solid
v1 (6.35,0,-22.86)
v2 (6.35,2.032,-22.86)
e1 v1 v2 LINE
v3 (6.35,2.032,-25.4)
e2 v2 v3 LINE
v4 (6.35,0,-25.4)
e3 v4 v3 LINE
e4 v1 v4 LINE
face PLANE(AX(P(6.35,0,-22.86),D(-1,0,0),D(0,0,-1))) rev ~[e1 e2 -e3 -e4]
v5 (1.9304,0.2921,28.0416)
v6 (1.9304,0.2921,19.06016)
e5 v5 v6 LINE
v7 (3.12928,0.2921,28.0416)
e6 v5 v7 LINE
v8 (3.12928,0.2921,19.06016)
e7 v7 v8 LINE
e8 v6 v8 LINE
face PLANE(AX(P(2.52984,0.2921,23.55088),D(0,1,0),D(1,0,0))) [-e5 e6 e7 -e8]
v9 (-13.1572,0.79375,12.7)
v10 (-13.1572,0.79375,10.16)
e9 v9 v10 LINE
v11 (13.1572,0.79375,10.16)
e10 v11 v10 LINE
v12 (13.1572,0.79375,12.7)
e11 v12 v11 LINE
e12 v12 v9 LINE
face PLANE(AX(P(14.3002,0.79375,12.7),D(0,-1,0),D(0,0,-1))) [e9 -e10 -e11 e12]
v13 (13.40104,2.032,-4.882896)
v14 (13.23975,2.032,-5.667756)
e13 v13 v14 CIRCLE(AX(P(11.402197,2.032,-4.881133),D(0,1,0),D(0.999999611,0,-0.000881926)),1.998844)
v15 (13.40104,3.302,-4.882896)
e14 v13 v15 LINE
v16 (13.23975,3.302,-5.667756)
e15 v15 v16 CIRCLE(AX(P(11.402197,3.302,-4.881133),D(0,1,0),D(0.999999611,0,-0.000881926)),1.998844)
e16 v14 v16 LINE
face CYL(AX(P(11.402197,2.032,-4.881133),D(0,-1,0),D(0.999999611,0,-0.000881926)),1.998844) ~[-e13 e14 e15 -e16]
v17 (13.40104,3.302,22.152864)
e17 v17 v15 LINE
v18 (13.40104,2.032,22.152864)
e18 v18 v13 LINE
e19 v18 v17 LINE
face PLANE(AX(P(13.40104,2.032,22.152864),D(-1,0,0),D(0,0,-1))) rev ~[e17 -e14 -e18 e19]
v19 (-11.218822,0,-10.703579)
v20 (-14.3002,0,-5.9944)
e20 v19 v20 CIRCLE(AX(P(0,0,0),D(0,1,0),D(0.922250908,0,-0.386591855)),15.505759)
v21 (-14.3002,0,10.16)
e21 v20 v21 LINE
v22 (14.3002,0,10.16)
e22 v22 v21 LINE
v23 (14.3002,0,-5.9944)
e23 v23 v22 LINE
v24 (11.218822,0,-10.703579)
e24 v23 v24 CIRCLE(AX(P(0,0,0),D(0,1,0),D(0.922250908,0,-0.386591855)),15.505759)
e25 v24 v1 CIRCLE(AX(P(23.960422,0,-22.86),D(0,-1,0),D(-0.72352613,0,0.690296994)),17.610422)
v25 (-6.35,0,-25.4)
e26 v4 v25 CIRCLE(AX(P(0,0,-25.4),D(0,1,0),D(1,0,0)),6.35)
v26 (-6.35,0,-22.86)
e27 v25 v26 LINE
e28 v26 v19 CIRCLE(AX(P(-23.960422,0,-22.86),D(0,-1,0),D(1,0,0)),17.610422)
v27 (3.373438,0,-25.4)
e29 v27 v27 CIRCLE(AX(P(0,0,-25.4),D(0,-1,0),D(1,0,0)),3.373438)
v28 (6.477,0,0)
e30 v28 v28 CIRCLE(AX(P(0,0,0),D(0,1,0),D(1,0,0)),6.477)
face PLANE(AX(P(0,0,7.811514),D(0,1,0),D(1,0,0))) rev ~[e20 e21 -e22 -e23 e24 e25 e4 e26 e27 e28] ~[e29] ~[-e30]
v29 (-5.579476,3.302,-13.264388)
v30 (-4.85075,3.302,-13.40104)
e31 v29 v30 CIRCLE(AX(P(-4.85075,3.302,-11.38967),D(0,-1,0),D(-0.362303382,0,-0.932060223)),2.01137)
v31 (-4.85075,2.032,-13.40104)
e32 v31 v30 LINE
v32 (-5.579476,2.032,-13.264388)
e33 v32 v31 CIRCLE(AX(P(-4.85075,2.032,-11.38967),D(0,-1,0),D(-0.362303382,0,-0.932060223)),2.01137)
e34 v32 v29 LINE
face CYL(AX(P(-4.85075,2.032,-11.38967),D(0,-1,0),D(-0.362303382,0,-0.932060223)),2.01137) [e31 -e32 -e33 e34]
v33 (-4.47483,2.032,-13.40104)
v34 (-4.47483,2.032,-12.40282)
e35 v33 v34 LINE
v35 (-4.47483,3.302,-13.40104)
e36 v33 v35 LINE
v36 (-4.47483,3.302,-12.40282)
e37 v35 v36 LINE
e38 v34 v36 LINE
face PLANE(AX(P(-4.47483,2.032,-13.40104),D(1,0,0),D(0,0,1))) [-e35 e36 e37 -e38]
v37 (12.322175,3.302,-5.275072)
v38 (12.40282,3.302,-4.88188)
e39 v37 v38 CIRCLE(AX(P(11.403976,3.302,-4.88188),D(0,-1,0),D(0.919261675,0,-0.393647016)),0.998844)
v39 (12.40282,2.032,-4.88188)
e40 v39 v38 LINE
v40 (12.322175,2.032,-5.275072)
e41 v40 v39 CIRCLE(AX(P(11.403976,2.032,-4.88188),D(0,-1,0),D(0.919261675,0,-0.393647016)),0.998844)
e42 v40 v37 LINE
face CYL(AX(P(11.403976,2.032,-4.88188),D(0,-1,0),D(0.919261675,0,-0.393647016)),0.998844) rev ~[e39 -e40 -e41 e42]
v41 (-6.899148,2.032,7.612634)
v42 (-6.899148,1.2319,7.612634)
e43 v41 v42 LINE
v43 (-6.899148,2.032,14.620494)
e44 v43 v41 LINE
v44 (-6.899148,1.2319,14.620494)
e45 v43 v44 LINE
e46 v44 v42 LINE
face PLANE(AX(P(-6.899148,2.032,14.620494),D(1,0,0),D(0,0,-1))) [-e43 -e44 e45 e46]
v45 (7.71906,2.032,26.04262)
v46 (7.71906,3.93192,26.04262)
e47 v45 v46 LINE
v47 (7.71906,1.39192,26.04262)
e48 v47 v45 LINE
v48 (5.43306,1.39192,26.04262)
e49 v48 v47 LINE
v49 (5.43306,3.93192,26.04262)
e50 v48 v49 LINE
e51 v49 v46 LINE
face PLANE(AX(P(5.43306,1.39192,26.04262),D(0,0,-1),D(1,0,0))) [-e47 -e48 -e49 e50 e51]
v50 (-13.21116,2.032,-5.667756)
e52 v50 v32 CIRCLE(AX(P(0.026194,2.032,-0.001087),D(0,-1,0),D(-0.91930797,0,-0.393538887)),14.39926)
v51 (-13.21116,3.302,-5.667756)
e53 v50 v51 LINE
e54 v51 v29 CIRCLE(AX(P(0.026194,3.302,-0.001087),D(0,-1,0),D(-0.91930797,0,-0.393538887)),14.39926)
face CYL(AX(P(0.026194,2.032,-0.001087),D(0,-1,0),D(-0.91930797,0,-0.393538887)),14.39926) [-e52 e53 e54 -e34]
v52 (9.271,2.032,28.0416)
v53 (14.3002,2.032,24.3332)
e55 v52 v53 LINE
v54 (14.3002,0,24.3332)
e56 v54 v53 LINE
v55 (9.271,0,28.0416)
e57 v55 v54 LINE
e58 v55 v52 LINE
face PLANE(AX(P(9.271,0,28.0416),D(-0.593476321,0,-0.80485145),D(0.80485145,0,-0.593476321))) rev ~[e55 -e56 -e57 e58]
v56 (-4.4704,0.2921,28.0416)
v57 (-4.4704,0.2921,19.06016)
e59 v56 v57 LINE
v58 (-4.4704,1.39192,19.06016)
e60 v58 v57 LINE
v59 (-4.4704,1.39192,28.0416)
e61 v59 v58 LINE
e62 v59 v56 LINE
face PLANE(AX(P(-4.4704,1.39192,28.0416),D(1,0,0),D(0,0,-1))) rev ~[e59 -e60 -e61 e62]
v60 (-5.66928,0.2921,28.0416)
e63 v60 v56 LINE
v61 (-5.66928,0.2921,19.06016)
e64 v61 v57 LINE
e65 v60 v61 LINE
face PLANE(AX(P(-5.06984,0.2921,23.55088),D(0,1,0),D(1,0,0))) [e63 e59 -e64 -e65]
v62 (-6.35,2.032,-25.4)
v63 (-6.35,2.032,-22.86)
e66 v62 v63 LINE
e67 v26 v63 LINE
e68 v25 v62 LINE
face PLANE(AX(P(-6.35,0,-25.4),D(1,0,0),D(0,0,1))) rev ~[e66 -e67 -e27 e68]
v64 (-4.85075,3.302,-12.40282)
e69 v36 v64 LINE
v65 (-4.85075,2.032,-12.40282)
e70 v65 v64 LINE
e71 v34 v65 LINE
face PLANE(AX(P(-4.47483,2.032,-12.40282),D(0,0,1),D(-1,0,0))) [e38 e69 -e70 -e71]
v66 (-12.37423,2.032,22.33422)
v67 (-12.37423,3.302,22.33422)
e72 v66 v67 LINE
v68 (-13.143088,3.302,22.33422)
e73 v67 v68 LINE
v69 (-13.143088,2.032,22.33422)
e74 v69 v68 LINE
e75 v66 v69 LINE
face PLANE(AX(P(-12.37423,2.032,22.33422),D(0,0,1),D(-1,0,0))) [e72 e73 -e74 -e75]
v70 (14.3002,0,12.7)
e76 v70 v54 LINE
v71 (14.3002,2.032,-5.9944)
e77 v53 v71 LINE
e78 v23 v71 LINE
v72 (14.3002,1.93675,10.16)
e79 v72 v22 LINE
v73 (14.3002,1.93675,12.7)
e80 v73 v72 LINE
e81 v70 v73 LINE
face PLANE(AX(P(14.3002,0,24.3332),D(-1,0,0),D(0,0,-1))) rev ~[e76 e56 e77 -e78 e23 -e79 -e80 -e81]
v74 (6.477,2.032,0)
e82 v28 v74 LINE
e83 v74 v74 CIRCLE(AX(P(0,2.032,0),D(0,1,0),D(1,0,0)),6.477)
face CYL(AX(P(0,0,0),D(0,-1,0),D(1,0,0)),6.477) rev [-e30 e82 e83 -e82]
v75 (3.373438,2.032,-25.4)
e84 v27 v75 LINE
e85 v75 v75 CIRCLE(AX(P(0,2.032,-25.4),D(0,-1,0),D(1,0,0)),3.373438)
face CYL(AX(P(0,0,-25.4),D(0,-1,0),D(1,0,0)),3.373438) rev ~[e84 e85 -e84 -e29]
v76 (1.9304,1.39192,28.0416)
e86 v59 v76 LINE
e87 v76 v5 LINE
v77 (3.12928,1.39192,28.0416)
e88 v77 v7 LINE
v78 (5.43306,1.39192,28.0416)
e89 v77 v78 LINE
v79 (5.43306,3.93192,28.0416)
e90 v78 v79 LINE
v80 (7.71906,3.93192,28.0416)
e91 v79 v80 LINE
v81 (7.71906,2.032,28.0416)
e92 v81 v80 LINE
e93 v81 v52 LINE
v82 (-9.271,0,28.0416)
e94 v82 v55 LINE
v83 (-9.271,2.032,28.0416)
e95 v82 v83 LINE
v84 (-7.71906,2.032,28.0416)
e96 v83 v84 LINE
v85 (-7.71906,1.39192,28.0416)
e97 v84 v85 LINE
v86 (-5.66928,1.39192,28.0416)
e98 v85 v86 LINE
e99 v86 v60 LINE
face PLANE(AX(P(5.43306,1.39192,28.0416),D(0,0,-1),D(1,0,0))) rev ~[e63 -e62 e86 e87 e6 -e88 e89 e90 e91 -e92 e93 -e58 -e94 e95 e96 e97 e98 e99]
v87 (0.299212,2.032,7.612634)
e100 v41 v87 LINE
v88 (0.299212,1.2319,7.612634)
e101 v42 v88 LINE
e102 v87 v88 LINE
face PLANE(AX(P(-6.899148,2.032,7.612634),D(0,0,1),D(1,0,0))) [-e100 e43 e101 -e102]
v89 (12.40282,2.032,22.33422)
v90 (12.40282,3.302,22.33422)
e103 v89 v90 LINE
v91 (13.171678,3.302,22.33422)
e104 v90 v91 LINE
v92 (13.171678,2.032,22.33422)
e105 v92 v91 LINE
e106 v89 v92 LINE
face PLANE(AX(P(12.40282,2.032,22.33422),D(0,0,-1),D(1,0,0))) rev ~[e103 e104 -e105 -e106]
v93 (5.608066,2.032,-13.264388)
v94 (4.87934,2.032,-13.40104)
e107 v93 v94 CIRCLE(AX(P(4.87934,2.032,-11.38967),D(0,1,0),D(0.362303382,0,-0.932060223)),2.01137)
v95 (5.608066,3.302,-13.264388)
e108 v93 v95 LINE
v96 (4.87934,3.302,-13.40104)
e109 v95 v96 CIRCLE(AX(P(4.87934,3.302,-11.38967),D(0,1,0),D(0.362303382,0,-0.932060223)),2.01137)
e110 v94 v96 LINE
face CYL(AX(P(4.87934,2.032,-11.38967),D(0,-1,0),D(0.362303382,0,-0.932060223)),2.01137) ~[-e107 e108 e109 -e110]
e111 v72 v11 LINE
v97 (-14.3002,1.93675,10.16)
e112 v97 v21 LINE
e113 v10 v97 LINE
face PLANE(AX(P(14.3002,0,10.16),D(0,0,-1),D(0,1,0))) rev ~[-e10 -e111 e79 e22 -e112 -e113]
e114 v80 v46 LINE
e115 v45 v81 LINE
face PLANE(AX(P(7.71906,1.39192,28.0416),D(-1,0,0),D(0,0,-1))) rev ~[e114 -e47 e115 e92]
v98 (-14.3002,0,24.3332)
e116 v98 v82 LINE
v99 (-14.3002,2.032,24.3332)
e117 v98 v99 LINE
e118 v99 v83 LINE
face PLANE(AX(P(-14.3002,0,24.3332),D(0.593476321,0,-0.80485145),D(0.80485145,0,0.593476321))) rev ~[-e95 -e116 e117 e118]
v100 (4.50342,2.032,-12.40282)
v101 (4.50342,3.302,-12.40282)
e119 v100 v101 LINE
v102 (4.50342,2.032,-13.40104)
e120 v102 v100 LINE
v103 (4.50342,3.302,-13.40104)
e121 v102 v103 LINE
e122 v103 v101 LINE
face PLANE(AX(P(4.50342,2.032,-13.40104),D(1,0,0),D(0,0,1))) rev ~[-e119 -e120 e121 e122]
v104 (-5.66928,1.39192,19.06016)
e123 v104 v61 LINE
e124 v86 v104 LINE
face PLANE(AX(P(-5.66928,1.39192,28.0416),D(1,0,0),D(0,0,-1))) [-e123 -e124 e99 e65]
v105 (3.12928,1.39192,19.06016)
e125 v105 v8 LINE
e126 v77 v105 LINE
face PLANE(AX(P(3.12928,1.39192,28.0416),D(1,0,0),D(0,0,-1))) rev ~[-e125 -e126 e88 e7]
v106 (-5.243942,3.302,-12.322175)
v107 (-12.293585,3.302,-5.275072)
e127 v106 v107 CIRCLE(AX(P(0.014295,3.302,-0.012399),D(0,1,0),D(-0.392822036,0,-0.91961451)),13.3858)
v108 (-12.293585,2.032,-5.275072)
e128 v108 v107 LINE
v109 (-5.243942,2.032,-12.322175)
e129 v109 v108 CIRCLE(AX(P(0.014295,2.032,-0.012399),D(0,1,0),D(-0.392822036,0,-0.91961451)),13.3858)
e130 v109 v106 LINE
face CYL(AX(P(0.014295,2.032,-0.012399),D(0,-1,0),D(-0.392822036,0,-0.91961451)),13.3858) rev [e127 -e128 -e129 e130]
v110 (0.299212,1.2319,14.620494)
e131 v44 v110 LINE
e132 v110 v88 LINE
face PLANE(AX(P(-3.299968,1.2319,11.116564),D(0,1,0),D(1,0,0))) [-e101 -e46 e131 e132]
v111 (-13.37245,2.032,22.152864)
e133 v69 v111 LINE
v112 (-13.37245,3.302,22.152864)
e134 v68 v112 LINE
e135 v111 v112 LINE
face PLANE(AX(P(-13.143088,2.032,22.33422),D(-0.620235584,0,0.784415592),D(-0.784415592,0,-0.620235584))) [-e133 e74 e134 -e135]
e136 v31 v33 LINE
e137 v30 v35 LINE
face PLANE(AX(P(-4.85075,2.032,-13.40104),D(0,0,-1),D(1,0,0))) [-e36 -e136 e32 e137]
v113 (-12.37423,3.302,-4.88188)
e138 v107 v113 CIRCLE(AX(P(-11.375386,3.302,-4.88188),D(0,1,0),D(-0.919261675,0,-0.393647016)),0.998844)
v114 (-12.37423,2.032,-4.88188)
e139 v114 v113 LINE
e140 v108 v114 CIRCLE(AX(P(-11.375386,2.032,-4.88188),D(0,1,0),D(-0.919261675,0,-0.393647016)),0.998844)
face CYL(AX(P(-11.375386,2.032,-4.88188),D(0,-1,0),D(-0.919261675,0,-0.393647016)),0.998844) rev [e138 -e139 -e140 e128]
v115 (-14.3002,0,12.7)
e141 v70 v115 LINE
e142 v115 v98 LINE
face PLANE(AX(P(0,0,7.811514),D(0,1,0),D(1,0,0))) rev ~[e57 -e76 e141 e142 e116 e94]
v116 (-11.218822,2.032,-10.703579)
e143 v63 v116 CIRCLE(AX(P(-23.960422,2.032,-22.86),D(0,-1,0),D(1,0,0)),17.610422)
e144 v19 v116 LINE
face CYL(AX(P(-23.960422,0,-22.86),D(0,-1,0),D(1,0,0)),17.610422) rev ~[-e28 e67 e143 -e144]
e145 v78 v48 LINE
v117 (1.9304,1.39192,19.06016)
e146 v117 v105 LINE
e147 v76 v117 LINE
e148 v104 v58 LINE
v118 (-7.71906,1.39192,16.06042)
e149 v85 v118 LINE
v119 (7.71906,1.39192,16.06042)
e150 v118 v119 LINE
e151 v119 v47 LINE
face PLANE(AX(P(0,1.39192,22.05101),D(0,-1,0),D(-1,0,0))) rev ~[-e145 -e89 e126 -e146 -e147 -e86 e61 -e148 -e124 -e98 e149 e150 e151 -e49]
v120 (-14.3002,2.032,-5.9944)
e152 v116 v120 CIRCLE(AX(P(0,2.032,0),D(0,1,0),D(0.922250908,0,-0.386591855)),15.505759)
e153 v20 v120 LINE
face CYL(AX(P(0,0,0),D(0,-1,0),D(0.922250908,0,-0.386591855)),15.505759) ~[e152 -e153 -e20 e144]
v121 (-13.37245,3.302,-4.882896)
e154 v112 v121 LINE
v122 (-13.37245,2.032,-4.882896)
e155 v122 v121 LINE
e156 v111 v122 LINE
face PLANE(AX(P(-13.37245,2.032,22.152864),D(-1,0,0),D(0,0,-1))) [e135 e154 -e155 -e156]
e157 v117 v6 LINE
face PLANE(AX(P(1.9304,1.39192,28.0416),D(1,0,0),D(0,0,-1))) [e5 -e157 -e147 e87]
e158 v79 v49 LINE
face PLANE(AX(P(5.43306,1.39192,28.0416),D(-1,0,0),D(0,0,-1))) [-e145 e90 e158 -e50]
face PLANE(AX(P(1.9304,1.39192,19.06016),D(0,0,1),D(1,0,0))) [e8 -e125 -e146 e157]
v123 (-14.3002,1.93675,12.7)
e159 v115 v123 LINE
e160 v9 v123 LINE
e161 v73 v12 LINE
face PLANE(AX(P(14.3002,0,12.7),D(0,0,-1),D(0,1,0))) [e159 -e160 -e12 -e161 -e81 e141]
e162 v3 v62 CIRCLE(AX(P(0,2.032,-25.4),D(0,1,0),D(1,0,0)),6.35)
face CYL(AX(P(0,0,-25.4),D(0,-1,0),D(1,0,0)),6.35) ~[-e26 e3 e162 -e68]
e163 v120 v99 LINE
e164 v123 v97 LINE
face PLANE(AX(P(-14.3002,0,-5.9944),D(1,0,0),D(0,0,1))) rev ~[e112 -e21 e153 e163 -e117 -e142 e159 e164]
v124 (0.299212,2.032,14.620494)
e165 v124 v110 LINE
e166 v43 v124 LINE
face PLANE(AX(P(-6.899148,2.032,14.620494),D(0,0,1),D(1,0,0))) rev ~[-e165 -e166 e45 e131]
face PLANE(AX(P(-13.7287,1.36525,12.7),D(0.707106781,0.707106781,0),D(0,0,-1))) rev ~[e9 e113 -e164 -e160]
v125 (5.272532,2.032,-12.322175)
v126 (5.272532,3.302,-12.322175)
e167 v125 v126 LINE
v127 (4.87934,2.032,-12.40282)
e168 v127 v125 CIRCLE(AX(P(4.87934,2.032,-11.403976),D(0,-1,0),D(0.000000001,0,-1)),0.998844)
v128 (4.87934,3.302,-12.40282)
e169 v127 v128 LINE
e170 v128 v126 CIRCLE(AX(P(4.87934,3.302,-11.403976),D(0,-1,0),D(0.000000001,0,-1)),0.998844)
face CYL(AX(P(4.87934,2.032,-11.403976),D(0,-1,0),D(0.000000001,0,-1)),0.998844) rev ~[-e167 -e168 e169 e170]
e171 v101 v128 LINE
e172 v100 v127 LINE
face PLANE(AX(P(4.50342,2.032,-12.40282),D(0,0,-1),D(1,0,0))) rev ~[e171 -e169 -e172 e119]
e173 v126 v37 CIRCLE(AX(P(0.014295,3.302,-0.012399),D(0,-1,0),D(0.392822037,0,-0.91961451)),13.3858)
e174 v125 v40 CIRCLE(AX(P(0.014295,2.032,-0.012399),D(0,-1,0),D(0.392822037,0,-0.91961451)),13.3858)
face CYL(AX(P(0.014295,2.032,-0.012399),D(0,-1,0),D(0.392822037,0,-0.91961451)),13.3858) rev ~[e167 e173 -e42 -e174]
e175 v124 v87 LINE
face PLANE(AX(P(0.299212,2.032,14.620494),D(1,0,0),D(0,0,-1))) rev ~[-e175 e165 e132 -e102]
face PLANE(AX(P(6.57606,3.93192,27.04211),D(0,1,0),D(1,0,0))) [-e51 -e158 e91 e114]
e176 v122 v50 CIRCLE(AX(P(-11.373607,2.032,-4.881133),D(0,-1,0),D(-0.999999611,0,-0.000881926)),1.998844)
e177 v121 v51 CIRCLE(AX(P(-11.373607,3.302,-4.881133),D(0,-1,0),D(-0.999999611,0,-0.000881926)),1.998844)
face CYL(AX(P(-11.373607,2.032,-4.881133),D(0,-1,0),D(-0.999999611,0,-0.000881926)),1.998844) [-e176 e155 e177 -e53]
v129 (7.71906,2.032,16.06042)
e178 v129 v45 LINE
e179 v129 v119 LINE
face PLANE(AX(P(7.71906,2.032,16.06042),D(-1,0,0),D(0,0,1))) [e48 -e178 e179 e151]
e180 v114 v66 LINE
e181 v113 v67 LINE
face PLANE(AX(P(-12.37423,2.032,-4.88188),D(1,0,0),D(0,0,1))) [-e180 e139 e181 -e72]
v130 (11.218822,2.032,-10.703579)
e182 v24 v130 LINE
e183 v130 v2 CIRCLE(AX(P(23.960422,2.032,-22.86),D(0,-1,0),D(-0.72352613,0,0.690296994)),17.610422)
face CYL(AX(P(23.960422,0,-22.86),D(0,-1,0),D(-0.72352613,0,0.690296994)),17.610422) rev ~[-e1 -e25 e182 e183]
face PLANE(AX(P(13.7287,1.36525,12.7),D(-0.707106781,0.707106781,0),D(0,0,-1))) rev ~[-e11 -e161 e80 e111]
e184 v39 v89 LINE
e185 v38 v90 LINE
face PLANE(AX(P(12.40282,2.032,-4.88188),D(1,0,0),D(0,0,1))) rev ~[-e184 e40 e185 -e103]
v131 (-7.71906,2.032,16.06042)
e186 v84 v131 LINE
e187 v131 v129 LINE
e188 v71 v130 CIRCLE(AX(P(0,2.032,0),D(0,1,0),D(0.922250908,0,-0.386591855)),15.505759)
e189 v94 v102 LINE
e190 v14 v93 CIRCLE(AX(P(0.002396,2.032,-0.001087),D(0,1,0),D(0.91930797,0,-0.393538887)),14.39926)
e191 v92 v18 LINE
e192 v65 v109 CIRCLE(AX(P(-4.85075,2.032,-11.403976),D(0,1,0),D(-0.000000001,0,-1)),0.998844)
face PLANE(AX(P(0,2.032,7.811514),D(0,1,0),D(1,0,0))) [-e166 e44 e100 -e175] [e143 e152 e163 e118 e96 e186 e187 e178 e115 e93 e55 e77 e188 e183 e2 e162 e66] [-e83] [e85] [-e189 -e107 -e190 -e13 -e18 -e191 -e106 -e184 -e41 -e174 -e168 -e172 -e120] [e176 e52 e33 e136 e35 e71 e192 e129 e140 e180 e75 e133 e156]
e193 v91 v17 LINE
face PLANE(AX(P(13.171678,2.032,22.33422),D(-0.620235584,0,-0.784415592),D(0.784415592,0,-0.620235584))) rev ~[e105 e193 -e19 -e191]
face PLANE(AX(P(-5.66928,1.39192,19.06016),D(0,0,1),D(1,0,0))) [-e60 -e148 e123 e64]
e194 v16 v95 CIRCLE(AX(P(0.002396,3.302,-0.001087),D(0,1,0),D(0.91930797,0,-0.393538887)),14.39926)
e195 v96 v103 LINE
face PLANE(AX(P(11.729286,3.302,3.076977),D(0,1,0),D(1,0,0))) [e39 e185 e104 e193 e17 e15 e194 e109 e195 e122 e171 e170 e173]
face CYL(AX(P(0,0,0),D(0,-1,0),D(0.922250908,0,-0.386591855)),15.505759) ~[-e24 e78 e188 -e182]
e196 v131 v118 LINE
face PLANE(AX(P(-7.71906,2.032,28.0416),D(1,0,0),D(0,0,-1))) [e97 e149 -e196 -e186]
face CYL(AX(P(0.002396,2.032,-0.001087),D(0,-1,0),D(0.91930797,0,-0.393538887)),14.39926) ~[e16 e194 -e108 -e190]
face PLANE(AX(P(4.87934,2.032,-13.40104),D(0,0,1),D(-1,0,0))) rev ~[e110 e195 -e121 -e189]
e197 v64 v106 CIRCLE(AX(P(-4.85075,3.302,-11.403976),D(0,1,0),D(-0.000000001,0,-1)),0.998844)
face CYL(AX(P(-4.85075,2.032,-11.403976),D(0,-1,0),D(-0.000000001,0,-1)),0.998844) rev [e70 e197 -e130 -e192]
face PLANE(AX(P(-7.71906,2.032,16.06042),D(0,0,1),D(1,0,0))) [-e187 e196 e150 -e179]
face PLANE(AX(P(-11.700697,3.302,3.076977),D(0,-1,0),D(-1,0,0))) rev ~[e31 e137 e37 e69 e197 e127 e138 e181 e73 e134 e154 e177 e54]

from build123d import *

# Parameters (mm, degrees)
SKETCH1_R               = 6.477
BOSS_EXTRUDE1_DEPTH     = 2.032
CUT_EXTRUDE1_DEPTH      = 0.64008
SKETCH3_W               = 1.19888
SKETCH3_H               = 8.98144
CUT_EXTRUDE2_DEPTH      = 1.09982
SKETCH4_W               = 7.19836
SKETCH4_H               = 7.00786
CUT_EXTRUDE3_DEPTH      = 0.8001
BOSS_EXTRUDE2_DEPTH     = 1.27
SKETCH6_W               = 2.286
SKETCH6_H               = 1.99898
BOSS_EXTRUDE3_DEPTH     = 2.54
SKETCH7_R               = 3.3734375
BOSS_EXTRUDE4_DEPTH     = 2.032
SKETCH8_W               = 2.54
SKETCH8_H               = 0.79375
CUT_EXTRUDE4_DEPTH      = 1
CUT_EXTRUDE4_DEPTH_BACK = 29.6004
CHAMFER1_SIZE           = 1.143
CHAMFER2_SIZE           = 1.143


with BuildPart() as part:
    # Sketch1 → Boss-Extrude1 (new body)
    with BuildSketch(Plane(origin=(0, 0, 0), x_dir=(1, 0, 0), z_dir=(0, 1, 0))):
        with BuildLine():
            Line((-14.3002, 5.9944), (-14.3002, -24.3332))
            Line((-14.3002, -24.3332), (-9.271, -28.0416))
            Line((-9.271, -28.0416), (9.271, -28.0416))
            Line((9.271, -28.0416), (14.3002, -24.3332))
            Line((14.3002, -24.3332), (14.3002, 5.9944))
            ThreePointArc((14.3002, 5.9944), (0, 15.505758653), (-14.3002, 5.9944))
        make_face()
        Circle(SKETCH1_R, mode=Mode.SUBTRACT)
    extrude(amount=BOSS_EXTRUDE1_DEPTH)

    # Sketch2 → Cut-Extrude1 (cut)
    with BuildSketch(Plane(origin=(0, 2.032, 0), x_dir=(1, 0, 0), z_dir=(0, 1, 0))):
        Polygon((0, -28.0416), (-7.71906, -28.0416), (-7.71906, -16.06042), (7.71906, -16.06042), (7.71906, -28.0416), align=None)
    extrude(amount=-CUT_EXTRUDE1_DEPTH, mode=Mode.SUBTRACT)

    # Sketch3 → Cut-Extrude2 (cut)
    with BuildSketch(Plane(origin=(0, 1.39192, 0), x_dir=(1, 0, 0), z_dir=(0, 1, 0))):
        with Locations((-5.06984, -23.55088)):
            Rectangle(SKETCH3_W, SKETCH3_H)
        with Locations((2.52984, -23.55088)):
            Rectangle(SKETCH3_W, SKETCH3_H)
    extrude(amount=-CUT_EXTRUDE2_DEPTH, mode=Mode.SUBTRACT)

    # Sketch4 → Cut-Extrude3 (cut)
    with BuildSketch(Plane(origin=(0, 2.032, 0), x_dir=(1, 0, 0), z_dir=(0, 1, 0))):
        with Locations((-3.299968, -11.116564)):
            Rectangle(SKETCH4_W, SKETCH4_H)
    extrude(amount=-CUT_EXTRUDE3_DEPTH, mode=Mode.SUBTRACT)

    # Sketch5 → Boss-Extrude2 (add)
    with BuildSketch(Plane(origin=(0, 2.032, 0), x_dir=(1, 0, 0), z_dir=(0, 1, 0))):
        with BuildLine():
            Line((12.40282, -22.33422), (13.171678, -22.33422))
            Line((13.171678, -22.33422), (13.40104, -22.152864))
            Line((13.40104, -22.152864), (13.40104, 4.882896))
            ThreePointArc((13.40104, 4.882896), (13.360125716, 5.283490726), (13.23975, 5.667756))
            ThreePointArc((13.23975, 5.667756), (10.160746855, 10.20631074), (5.608066, 13.264388))
            ThreePointArc((5.608066, 13.264388), (5.250053957, 13.366581837), (4.87934, 13.40104))
            Line((4.87934, 13.40104), (4.50342, 13.40104))
            Line((4.50342, 13.40104), (4.50342, 12.40282))
            Line((4.50342, 12.40282), (4.87934, 12.40282))
            ThreePointArc((4.87934, 12.40282), (5.080028543, 12.382451063), (5.272532, 12.322175))
            ThreePointArc((5.272532, 12.322175), (9.477779109, 9.479294357), (12.322175, 5.275072))
            ThreePointArc((12.322175, 5.275072), (12.382451063, 5.082568543), (12.40282, 4.88188))
            Line((12.40282, 4.88188), (12.40282, -22.33422))
        make_face()
        with BuildLine():
            Line((-4.850750436, 13.40104), (-4.474830436, 13.40104))
            Line((-4.474830436, 13.40104), (-4.474830436, 12.40282))
            Line((-4.474830436, 12.40282), (-4.850750436, 12.40282))
            ThreePointArc((-4.850750436, 12.40282), (-5.051438979, 12.382451063), (-5.243942436, 12.322175))
            ThreePointArc((-5.243942436, 12.322175), (-9.449189546, 9.479294357), (-12.293585436, 5.275072))
            ThreePointArc((-12.293585436, 5.275072), (-12.353861499, 5.082568543), (-12.374230436, 4.88188))
            Line((-12.374230436, 4.88188), (-12.374230436, -22.33422))
            Line((-12.374230436, -22.33422), (-13.143088436, -22.33422))
            Line((-13.143088436, -22.33422), (-13.372450436, -22.152864))
            Line((-13.372450436, -22.152864), (-13.372450436, 4.882896))
            ThreePointArc((-13.372450436, 4.882896), (-13.331536152, 5.283490726), (-13.211160436, 5.667756))
            ThreePointArc((-13.211160436, 5.667756), (-10.132157291, 10.20631074), (-5.579476436, 13.264388))
            ThreePointArc((-5.579476436, 13.264388), (-5.221464393, 13.366581837), (-4.850750436, 13.40104))
        make_face()
    extrude(amount=BOSS_EXTRUDE2_DEPTH)

    # Sketch6 → Boss-Extrude3 (add)
    with BuildSketch(Plane(origin=(0, 1.39192, 0), x_dir=(1, 0, 0), z_dir=(0, 1, 0))):
        with Locations((6.57606, -27.04211)):
            Rectangle(SKETCH6_W, SKETCH6_H)
    extrude(amount=BOSS_EXTRUDE3_DEPTH)

    # Sketch7 → Boss-Extrude4 (add)
    with BuildSketch(Plane.XZ):
        with BuildLine():
            Line((-6.35, -25.4), (-6.35, -22.86))
            ThreePointArc((-6.35, -22.86), (-7.612456929, -16.312404928), (-11.218821547, -10.703578583))
            ThreePointArc((-11.218821547, -10.703578583), (0, -15.505758653), (11.218821547, -10.703578583))
            ThreePointArc((11.218821547, -10.703578583), (7.612456929, -16.312404928), (6.35, -22.86))
            Line((6.35, -22.86), (6.35, -25.4))
            ThreePointArc((6.35, -25.4), (0, -31.75), (-6.35, -25.4))
        make_face()
        with Locations((0, -25.4)):
            Circle(SKETCH7_R, mode=Mode.SUBTRACT)
    extrude(amount=-BOSS_EXTRUDE4_DEPTH)

    # Sketch8 → Cut-Extrude4 (cut, two sides)
    with BuildSketch(Plane(origin=(14.3002, 0, 0), x_dir=(0, 0, -1), z_dir=(1, 0, 0))) as cut_extrude4_sk:
        with Locations((-11.43, 0.396875)):
            Rectangle(SKETCH8_W, SKETCH8_H)
    extrude(amount=CUT_EXTRUDE4_DEPTH, mode=Mode.SUBTRACT)
    extrude(cut_extrude4_sk.sketch, amount=-CUT_EXTRUDE4_DEPTH_BACK, mode=Mode.SUBTRACT)

    # Chamfer1
    chamfer1_edges = [part.edges().sort_by_distance(p)[0] for p in [
        (14.3002, 0.79375, 11.43),
    ]]
    chamfer(chamfer1_edges, length=CHAMFER1_SIZE)

    # Chamfer2
    chamfer2_edges = [part.edges().sort_by_distance(p)[0] for p in [
        (-14.3002, 0.79375, 11.43),
    ]]
    chamfer(chamfer2_edges, length=CHAMFER2_SIZE)


solid = part.part
